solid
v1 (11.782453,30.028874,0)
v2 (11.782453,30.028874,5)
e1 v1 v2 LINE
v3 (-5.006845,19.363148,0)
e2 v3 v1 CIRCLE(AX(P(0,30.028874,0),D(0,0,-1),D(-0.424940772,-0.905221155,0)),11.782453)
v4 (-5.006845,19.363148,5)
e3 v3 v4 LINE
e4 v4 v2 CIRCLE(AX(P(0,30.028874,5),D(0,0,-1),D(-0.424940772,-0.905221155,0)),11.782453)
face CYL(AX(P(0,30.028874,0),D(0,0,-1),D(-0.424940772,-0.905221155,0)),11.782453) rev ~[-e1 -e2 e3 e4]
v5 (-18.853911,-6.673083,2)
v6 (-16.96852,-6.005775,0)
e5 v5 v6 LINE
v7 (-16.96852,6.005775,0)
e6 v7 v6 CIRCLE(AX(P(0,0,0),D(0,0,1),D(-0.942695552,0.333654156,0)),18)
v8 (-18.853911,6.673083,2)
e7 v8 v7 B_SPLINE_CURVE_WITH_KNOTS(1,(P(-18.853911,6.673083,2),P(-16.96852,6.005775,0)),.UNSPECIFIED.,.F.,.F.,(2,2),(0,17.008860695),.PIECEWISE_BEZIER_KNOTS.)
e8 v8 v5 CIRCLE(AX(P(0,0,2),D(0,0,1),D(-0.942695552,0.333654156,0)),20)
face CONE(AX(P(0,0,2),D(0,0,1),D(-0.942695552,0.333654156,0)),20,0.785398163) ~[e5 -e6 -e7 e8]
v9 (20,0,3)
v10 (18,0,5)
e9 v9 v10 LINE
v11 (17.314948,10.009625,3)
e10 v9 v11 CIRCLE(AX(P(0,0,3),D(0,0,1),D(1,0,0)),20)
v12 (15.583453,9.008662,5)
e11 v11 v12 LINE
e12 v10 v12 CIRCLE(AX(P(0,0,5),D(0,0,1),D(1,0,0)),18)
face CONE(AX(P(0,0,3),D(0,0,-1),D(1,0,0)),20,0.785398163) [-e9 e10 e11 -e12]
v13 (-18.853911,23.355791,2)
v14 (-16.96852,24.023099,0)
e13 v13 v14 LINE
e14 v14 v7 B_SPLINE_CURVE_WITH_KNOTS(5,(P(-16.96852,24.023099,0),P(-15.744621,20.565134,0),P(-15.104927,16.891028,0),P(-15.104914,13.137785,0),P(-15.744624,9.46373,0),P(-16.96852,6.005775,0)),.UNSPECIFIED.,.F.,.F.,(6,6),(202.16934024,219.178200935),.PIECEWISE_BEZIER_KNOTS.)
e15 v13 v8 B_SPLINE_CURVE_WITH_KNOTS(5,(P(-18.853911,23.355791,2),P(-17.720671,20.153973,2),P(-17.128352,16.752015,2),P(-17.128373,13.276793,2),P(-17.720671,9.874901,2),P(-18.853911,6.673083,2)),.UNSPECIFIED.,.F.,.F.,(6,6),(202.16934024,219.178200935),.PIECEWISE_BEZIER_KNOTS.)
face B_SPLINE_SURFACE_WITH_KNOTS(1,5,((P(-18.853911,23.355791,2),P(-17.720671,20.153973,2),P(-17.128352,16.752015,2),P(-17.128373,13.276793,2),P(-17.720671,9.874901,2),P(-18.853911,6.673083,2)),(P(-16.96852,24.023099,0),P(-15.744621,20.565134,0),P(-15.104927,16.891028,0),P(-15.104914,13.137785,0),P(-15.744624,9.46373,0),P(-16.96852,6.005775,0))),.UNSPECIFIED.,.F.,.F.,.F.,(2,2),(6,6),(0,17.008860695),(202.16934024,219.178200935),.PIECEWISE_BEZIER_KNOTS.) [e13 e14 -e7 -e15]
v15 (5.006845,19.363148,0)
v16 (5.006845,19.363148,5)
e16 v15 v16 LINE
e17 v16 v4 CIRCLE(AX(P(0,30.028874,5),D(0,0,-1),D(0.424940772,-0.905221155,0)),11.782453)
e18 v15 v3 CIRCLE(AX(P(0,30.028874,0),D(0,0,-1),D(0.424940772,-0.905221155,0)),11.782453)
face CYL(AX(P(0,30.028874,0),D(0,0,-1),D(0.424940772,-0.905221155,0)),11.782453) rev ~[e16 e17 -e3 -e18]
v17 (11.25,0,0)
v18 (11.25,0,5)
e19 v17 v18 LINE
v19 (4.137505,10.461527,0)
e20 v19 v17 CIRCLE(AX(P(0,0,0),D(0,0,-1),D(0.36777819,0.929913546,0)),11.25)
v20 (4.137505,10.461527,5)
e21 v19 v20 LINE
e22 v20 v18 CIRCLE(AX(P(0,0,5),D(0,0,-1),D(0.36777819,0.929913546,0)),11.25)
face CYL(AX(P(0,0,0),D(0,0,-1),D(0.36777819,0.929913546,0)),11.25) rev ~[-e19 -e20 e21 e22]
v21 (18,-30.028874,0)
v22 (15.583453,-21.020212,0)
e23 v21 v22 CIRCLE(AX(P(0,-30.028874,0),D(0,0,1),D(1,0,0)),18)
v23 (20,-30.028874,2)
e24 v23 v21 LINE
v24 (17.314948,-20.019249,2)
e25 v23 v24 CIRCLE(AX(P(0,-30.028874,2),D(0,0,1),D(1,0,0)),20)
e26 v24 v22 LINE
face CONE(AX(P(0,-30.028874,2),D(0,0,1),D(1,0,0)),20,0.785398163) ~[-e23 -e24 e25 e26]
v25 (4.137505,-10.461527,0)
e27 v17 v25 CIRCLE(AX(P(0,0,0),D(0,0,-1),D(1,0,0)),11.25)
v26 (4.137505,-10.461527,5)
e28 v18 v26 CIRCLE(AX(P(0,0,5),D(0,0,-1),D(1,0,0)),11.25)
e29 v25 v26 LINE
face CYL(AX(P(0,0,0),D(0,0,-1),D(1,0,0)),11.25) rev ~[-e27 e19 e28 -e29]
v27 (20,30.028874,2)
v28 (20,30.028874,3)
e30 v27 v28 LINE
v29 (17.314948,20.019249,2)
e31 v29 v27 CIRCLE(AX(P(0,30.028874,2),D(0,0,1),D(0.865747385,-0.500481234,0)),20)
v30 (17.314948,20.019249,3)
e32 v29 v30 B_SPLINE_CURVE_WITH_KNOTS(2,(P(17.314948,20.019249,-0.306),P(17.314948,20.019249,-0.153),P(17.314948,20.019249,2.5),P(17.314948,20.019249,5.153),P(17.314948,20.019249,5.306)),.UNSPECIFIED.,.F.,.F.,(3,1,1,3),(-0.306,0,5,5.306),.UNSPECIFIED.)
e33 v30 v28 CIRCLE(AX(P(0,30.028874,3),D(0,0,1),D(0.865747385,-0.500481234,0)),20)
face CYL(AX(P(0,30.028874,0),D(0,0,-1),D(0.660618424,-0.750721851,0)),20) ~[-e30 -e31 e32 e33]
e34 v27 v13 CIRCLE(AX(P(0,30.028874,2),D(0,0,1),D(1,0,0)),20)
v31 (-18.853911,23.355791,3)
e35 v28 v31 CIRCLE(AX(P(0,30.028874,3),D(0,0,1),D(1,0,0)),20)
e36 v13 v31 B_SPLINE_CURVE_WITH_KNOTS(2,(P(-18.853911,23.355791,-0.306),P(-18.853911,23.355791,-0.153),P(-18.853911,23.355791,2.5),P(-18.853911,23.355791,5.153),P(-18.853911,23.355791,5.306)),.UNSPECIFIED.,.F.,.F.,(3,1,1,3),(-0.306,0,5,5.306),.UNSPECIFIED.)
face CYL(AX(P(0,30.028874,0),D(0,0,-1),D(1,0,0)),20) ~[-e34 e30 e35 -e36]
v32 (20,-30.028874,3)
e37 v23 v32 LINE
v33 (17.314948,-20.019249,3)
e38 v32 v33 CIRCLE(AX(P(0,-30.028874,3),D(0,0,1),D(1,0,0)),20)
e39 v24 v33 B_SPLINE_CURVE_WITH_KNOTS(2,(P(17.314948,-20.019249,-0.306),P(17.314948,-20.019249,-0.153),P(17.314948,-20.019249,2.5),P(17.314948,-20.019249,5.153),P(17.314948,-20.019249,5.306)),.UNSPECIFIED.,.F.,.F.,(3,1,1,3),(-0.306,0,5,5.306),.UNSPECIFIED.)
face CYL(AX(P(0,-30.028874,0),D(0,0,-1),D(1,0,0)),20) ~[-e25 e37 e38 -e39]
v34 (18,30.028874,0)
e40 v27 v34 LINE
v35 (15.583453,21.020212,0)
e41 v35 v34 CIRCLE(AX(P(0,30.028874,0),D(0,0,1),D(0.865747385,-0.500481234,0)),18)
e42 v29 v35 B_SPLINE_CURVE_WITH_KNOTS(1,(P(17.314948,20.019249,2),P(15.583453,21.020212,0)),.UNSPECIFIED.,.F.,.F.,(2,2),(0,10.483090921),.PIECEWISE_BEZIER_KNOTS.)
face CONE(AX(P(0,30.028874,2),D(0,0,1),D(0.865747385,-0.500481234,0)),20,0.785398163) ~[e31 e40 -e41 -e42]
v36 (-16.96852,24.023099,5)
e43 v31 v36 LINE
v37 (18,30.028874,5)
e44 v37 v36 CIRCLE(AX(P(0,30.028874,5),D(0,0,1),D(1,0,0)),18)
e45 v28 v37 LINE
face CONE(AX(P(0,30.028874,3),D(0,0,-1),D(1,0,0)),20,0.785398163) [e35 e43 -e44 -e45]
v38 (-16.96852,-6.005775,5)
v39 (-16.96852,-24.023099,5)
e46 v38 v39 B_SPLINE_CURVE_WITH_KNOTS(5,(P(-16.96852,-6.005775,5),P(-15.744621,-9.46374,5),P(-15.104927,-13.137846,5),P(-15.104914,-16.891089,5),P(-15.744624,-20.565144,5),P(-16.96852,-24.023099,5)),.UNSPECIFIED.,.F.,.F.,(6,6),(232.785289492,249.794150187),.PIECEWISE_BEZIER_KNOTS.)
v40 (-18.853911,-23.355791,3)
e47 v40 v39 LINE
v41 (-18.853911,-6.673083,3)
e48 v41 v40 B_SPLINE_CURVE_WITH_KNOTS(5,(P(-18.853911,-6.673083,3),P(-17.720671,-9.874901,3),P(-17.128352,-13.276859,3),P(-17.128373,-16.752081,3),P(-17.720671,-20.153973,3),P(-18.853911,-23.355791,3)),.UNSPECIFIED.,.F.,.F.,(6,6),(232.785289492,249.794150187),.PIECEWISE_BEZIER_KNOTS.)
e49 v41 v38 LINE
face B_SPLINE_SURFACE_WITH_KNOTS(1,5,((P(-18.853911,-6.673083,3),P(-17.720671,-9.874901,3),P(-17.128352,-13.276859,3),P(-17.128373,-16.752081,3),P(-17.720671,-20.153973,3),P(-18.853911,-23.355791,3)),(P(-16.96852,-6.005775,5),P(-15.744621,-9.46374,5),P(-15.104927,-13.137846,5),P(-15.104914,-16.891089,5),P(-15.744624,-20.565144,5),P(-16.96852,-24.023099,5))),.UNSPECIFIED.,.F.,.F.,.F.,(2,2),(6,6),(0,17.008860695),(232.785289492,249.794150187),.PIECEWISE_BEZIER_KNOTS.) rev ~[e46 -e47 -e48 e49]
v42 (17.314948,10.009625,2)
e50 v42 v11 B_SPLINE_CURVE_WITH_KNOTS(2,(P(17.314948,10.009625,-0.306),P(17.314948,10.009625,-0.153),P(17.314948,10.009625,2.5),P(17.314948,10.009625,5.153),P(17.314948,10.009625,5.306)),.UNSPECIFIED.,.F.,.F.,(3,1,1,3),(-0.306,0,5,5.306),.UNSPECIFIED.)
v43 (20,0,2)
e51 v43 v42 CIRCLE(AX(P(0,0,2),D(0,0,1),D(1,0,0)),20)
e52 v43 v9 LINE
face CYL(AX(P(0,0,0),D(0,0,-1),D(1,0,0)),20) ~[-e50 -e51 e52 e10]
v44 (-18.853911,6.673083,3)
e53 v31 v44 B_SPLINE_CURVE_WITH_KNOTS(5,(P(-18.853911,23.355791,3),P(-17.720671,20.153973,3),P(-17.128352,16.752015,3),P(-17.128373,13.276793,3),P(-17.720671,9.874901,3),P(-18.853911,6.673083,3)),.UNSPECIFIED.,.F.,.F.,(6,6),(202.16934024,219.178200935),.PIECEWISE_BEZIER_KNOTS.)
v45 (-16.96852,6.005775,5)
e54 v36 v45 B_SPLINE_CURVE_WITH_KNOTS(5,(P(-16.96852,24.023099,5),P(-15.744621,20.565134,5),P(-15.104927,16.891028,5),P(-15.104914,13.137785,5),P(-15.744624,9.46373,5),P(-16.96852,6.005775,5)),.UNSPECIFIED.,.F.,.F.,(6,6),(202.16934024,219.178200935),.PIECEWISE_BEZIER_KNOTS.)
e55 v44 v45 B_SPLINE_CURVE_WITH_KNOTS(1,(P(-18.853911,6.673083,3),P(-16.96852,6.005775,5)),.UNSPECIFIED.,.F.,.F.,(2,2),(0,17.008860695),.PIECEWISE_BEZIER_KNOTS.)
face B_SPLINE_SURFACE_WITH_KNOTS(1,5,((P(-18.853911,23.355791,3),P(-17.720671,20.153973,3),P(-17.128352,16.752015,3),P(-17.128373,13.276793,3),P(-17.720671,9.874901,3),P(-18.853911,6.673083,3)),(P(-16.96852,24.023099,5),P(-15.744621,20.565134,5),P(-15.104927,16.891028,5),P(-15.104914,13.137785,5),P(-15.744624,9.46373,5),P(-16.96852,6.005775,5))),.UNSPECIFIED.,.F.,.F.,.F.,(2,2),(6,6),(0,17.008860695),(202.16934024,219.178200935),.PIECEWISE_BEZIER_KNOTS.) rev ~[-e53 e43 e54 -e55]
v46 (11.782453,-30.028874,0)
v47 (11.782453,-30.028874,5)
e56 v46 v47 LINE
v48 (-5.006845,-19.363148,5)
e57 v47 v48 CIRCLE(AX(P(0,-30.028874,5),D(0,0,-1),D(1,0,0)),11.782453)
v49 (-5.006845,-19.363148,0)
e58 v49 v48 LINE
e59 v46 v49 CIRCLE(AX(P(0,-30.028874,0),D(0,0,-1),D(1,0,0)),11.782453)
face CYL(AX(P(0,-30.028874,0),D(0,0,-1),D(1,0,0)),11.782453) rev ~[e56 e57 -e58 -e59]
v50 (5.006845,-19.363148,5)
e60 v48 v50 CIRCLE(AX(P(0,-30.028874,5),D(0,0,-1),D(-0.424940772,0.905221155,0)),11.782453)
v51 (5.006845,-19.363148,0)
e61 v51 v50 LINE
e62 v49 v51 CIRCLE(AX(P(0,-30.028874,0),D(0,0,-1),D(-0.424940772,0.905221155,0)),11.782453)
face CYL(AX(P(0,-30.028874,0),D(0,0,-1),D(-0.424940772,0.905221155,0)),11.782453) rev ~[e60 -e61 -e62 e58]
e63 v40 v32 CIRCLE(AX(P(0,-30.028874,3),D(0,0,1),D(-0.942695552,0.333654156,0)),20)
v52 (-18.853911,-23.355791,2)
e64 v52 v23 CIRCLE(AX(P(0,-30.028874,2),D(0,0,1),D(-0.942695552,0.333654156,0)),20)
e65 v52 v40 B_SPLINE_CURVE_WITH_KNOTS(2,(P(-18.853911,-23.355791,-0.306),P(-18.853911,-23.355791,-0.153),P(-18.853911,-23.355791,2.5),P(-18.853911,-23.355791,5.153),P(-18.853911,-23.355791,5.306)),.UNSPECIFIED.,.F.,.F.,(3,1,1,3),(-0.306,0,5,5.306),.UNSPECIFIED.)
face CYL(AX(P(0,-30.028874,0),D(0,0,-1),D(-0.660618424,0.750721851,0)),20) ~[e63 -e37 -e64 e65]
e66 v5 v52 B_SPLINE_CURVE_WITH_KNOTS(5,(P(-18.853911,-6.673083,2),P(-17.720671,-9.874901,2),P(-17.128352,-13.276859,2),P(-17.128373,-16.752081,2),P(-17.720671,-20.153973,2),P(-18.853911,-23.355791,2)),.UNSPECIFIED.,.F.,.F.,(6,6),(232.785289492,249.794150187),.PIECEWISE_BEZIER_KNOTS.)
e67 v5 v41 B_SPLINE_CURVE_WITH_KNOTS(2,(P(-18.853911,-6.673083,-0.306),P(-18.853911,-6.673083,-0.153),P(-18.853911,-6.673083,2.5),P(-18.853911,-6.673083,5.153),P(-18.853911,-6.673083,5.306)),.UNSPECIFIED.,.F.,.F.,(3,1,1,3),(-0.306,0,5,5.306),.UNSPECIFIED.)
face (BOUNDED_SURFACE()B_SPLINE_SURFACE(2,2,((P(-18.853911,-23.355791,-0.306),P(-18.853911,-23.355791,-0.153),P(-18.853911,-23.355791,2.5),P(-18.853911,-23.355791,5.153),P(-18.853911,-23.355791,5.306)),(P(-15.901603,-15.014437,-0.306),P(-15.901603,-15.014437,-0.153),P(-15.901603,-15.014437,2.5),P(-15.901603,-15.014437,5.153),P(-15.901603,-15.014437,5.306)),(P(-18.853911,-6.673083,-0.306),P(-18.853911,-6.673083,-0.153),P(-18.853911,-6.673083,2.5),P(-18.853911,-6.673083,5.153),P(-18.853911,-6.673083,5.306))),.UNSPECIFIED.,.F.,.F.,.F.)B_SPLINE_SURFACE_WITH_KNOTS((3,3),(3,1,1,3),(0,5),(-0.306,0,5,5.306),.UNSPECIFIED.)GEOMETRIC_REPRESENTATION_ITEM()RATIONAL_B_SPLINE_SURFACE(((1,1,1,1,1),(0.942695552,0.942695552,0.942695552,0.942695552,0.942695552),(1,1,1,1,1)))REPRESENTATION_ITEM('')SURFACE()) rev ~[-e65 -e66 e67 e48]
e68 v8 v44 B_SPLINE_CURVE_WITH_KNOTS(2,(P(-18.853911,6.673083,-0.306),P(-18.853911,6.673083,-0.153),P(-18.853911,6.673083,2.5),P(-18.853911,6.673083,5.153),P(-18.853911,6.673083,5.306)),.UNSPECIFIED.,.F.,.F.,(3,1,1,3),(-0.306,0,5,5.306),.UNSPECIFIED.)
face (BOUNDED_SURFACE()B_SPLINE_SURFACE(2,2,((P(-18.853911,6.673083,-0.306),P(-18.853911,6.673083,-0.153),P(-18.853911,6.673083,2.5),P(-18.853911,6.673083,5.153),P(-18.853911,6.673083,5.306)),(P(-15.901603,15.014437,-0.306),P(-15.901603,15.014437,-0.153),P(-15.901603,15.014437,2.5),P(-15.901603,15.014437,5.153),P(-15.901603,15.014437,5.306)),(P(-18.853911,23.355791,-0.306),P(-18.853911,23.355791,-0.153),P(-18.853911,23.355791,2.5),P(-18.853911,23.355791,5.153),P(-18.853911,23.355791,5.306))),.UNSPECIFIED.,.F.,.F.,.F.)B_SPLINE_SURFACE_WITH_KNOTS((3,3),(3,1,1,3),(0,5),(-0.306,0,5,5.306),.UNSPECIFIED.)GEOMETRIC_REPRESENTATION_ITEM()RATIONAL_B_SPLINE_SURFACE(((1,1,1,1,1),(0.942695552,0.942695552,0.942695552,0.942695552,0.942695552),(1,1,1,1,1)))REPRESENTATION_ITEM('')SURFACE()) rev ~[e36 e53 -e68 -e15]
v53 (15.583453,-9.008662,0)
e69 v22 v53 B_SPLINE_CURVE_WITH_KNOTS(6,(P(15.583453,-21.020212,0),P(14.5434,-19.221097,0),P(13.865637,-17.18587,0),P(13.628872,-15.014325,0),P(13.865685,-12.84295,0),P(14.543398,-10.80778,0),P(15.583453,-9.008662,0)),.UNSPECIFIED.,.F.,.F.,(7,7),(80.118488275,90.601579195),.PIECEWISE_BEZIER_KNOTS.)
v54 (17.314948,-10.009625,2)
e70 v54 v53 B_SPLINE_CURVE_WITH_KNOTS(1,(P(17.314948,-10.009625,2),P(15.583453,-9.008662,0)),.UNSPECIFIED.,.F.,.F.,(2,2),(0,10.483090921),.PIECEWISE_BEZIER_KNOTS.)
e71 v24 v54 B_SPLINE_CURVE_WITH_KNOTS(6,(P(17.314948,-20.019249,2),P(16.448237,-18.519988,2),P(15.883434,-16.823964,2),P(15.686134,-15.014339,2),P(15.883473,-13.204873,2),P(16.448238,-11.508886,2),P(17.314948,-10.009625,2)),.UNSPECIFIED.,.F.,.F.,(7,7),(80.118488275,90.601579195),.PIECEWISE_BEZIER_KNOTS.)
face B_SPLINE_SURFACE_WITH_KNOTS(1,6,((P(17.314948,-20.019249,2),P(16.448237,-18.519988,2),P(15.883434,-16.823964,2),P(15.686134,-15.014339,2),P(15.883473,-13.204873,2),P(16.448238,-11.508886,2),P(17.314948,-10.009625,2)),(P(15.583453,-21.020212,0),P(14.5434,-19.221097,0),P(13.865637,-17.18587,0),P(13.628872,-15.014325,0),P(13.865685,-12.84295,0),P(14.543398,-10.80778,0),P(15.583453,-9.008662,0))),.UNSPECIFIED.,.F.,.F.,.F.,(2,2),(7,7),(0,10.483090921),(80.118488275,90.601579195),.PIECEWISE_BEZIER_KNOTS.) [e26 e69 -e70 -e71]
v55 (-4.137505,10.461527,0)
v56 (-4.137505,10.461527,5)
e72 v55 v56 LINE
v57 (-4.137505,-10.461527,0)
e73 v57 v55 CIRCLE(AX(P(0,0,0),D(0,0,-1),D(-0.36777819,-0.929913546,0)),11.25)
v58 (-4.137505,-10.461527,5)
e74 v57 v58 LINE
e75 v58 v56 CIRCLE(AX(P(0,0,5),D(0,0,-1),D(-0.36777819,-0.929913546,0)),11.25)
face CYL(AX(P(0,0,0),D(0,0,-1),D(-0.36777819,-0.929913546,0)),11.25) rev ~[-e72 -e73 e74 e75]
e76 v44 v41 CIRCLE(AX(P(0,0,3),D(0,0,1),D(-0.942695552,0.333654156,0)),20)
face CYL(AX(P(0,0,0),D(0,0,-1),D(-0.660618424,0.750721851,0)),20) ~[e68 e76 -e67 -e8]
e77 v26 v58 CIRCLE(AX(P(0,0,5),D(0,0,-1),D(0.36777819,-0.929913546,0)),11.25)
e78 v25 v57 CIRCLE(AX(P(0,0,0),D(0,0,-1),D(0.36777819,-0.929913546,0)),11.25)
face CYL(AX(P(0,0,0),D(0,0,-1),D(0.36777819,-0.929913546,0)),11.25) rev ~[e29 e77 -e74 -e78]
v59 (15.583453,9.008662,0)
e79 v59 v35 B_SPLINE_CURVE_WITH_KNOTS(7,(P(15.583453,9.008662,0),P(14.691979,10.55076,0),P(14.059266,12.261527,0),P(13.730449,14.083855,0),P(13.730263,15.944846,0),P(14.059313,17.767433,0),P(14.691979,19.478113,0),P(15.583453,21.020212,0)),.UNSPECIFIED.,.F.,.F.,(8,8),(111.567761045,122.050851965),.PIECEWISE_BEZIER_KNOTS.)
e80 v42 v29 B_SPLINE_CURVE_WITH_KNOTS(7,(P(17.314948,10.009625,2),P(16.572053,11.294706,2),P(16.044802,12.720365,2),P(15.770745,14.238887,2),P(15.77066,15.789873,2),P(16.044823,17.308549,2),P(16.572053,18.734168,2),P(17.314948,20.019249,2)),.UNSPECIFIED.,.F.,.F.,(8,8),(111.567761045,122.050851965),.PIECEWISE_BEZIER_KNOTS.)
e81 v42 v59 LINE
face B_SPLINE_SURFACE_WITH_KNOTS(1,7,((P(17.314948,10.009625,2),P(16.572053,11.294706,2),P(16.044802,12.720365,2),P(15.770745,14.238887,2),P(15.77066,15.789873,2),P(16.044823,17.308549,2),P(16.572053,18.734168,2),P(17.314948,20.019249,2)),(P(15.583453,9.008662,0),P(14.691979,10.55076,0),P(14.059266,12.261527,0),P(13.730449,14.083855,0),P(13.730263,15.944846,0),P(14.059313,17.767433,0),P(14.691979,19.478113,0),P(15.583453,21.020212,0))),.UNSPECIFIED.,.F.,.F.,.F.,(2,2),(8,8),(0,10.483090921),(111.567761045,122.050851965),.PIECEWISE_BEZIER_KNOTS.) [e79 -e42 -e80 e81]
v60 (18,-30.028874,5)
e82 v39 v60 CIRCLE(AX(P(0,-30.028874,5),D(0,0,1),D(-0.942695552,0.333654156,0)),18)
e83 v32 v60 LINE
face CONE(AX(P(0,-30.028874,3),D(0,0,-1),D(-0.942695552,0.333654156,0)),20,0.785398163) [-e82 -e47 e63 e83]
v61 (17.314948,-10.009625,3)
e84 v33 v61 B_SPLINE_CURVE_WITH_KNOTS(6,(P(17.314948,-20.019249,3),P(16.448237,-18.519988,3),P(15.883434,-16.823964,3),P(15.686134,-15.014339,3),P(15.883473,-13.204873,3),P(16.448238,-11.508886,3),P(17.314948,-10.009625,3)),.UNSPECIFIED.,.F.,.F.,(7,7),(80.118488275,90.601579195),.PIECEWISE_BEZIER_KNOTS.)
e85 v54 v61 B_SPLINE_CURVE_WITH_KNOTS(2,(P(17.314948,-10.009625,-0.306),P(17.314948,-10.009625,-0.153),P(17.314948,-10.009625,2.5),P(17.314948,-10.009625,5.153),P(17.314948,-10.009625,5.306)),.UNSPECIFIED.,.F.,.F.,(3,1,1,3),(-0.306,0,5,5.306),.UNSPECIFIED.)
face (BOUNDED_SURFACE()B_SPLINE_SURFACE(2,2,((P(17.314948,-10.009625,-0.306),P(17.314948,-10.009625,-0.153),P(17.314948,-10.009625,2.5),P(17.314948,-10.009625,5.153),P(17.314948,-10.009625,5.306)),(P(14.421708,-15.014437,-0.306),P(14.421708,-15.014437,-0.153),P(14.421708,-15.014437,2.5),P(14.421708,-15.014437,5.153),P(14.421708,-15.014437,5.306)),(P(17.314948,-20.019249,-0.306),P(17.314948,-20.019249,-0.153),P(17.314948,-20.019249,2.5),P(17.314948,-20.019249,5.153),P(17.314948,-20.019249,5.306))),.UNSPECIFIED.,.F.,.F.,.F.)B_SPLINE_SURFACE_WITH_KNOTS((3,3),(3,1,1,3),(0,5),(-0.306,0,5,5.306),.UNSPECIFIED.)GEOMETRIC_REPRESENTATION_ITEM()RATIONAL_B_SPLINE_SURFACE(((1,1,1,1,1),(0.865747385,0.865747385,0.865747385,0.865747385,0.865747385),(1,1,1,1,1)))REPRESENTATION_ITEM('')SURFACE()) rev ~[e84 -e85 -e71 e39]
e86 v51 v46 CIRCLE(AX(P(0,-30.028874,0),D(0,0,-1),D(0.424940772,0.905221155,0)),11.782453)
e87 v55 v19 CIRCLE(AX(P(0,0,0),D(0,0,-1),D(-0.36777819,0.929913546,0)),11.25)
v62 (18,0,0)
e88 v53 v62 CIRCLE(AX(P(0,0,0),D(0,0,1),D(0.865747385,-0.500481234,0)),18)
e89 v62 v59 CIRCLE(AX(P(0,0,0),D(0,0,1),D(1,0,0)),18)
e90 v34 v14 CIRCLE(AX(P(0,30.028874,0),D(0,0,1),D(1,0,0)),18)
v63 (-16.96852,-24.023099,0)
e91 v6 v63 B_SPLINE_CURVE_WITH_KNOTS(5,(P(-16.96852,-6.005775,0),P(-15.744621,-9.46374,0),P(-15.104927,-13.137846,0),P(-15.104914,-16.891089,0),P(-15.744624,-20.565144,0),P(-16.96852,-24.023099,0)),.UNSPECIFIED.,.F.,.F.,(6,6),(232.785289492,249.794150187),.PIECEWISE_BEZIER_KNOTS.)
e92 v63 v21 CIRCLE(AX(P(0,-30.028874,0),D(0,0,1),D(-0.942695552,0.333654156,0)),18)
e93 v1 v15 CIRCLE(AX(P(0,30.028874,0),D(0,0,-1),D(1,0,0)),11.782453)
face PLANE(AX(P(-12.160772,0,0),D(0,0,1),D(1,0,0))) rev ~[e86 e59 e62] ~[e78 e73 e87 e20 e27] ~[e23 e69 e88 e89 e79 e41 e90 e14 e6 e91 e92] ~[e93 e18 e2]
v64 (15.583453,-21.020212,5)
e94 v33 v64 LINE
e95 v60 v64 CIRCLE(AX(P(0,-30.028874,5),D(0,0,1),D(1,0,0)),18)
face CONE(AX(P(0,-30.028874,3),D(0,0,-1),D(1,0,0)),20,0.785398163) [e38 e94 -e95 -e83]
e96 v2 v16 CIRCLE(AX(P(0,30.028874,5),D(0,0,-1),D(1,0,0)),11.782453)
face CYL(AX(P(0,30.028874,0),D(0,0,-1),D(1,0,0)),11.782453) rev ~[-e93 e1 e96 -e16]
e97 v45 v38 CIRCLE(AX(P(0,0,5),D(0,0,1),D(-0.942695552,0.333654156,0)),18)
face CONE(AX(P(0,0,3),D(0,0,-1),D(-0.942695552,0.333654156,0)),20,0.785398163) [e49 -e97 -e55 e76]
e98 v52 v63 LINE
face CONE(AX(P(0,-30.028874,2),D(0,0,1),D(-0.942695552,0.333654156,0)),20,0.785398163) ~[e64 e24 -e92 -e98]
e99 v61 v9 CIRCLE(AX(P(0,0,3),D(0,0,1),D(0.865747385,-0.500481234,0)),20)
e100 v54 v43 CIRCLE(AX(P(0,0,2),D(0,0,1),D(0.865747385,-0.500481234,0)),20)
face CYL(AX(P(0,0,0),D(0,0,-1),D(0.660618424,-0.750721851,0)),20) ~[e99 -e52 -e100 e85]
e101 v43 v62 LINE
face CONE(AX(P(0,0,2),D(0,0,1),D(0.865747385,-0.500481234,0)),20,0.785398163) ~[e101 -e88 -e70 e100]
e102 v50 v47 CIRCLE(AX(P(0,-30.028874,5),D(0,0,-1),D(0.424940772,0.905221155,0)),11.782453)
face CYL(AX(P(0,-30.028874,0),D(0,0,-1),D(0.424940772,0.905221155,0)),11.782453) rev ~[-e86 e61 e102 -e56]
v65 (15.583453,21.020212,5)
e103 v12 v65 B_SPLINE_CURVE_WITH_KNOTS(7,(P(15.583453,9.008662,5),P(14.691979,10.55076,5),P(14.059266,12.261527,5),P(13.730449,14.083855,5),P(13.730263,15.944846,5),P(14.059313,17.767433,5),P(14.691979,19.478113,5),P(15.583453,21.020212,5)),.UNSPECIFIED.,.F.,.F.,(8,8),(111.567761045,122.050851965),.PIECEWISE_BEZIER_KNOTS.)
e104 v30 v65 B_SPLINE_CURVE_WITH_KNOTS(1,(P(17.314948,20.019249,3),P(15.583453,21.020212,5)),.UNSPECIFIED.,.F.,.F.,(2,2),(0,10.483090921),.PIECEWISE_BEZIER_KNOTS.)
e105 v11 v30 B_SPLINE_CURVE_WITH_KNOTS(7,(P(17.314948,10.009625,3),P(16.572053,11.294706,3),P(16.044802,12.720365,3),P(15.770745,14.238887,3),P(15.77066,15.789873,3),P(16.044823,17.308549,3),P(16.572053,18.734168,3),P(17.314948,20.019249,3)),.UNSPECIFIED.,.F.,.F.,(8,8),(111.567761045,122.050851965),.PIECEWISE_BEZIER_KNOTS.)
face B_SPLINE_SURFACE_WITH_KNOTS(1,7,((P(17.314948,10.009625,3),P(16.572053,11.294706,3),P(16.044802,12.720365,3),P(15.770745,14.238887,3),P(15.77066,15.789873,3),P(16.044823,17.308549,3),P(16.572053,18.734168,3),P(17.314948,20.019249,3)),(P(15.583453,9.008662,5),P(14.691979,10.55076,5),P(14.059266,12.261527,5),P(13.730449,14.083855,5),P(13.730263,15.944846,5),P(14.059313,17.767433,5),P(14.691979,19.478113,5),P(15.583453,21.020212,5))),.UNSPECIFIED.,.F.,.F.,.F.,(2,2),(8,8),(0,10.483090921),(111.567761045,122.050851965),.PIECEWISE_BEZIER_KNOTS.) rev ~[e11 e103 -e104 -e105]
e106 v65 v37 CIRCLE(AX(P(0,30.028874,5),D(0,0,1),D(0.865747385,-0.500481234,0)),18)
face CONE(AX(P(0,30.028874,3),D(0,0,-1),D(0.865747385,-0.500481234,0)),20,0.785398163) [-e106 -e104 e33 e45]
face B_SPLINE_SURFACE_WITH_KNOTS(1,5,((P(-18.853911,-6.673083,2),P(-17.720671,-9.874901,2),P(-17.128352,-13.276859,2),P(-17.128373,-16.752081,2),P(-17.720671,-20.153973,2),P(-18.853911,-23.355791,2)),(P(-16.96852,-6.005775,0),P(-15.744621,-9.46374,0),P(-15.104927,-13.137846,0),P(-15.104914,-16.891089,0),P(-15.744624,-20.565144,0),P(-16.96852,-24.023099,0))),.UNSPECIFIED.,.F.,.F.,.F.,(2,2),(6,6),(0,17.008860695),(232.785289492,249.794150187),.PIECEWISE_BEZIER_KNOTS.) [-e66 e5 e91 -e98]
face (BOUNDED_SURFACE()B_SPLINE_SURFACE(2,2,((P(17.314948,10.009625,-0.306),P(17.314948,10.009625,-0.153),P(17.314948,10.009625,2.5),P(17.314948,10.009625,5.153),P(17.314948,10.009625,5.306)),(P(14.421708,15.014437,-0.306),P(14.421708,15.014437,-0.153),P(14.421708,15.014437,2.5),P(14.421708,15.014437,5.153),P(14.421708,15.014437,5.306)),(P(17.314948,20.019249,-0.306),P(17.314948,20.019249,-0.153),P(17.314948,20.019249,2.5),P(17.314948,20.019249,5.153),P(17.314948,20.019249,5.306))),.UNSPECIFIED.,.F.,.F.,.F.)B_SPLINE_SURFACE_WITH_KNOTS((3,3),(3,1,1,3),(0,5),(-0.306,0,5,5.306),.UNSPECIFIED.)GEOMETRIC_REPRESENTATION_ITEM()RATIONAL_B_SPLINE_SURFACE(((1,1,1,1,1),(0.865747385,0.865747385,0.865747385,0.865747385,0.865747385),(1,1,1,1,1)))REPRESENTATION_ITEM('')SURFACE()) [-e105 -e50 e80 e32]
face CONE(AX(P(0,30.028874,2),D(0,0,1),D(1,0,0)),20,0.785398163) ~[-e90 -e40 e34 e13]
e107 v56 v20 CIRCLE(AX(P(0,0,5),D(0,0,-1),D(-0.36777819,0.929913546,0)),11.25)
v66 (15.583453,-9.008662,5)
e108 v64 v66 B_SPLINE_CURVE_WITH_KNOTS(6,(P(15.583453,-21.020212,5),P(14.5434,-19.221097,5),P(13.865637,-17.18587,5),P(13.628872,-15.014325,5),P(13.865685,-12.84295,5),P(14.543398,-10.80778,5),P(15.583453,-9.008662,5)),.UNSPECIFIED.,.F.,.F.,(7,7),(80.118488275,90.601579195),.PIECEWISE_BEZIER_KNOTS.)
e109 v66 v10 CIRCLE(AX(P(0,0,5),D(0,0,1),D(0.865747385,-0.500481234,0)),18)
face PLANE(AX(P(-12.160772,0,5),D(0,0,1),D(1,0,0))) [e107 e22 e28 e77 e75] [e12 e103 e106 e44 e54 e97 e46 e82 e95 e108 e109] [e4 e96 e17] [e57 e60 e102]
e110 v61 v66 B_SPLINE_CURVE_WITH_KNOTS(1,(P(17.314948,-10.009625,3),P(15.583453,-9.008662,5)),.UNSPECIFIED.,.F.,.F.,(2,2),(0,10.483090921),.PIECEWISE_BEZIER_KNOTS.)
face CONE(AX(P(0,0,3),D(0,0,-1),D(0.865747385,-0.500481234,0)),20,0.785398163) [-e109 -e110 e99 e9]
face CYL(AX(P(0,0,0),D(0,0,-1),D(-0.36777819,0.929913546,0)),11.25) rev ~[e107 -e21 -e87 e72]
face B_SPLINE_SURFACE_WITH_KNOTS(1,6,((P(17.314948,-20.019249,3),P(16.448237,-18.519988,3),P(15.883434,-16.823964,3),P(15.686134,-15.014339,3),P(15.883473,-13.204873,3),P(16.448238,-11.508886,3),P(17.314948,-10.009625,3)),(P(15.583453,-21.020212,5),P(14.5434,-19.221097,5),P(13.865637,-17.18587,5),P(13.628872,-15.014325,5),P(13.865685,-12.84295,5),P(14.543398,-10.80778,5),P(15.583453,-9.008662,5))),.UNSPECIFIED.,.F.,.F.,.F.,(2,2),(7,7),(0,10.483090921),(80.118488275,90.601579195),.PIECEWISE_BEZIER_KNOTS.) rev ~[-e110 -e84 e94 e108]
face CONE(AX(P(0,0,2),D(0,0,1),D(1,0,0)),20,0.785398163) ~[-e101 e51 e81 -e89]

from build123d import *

# Parameters (mm, degrees)
F1_DEPTH = 5
F2_R     = 10
F3_R     = 25
F4_SIZE  = 2
F5_SIZE  = 2


with BuildPart() as f1:
    # F0 (on Top) → F1 (new body)
    with BuildSketch(Plane.XY):
        with BuildLine():
            ThreePointArc((-4.137504636, -10.4615273926), (-11.25, 0), (-4.137504636, 10.4615273926))
            ThreePointArc((-4.137504636, 10.4615273926), (-8.9686549041, 12.1525425178), (-13.2123684763, 15.0144370273))
            ThreePointArc((-13.2123684763, 15.0144370273), (-20, 0), (-13.2123684763, -15.0144370273))
            ThreePointArc((-13.2123684763, -15.0144370273), (-8.9686549041, -12.1525425178), (-4.137504636, -10.4615273926))
        make_face()
        with BuildLine():
            ThreePointArc((4.137504636, 10.4615273926), (9.303478574, 6.3251708611), (11.25, 0))
            ThreePointArc((11.25, 0), (9.303478574, -6.3251708611), (4.137504636, -10.4615273926))
            ThreePointArc((4.137504636, -10.4615273926), (8.9686549041, -12.1525425178), (13.2123684763, -15.0144370273))
            ThreePointArc((13.2123684763, -15.0144370273), (18.2242608839, -8.2387083476), (20, 0))
            ThreePointArc((20, 0), (18.2242608839, 8.2387083476), (13.2123684763, 15.0144370273))
            ThreePointArc((13.2123684763, 15.0144370273), (8.9686549041, 12.1525425178), (4.137504636, 10.4615273926))
        make_face()
        with BuildLine():
            ThreePointArc((-4.137504636, 10.4615273926), (0, 11.25), (4.137504636, 10.4615273926))
            ThreePointArc((4.137504636, 10.4615273926), (8.9686549041, 12.1525425178), (13.2123684763, 15.0144370273))
            ThreePointArc((13.2123684763, 15.0144370273), (9.3655087913, 17.6716508872), (5.0068447736, 19.3631481277))
            ThreePointArc((5.0068447736, 19.3631481277), (0, 18.2464208238), (-5.0068447736, 19.3631481277))
            ThreePointArc((-5.0068447736, 19.3631481277), (-9.3655087913, 17.6716508872), (-13.2123684763, 15.0144370273))
            ThreePointArc((-13.2123684763, 15.0144370273), (-8.9686549041, 12.1525425178), (-4.137504636, 10.4615273926))
        make_face()
        with BuildLine():
            ThreePointArc((13.2123684763, -15.0144370273), (8.9686549041, -12.1525425178), (4.137504636, -10.4615273926))
            ThreePointArc((4.137504636, -10.4615273926), (0, -11.25), (-4.137504636, -10.4615273926))
            ThreePointArc((-4.137504636, -10.4615273926), (-8.9686549041, -12.1525425178), (-13.2123684763, -15.0144370273))
            ThreePointArc((-13.2123684763, -15.0144370273), (-9.3655087913, -17.6716508872), (-5.0068447736, -19.3631481277))
            ThreePointArc((-5.0068447736, -19.3631481277), (0, -18.2464208238), (5.0068447736, -19.3631481277))
            ThreePointArc((5.0068447736, -19.3631481277), (9.3655087913, -17.6716508872), (13.2123684763, -15.0144370273))
        make_face()
        with BuildLine():
            ThreePointArc((5.0068447736, 19.3631481277), (9.3655087913, 17.6716508872), (13.2123684763, 15.0144370273))
            ThreePointArc((13.2123684763, 15.0144370273), (18.2242608839, 21.790165707), (20, 30.0288740546))
            ThreePointArc((20, 30.0288740546), (-8.2387083476, 48.2531349384), (-13.2123684763, 15.0144370273))
            ThreePointArc((-13.2123684763, 15.0144370273), (-9.3655087913, 17.6716508872), (-5.0068447736, 19.3631481277))
            ThreePointArc((-5.0068447736, 19.3631481277), (-6.3179620827, 39.9742025688), (11.7824532307, 30.0288740546))
            ThreePointArc((11.7824532307, 30.0288740546), (9.9453285142, 23.7109119719), (5.0068447736, 19.3631481277))
        make_face()
        with BuildLine():
            ThreePointArc((20, -30.0288740546), (18.2242608839, -21.790165707), (13.2123684763, -15.0144370273))
            ThreePointArc((13.2123684763, -15.0144370273), (9.3655087913, -17.6716508872), (5.0068447736, -19.3631481277))
            ThreePointArc((5.0068447736, -19.3631481277), (9.9453285142, -23.7109119719), (11.7824532307, -30.0288740546))
            ThreePointArc((11.7824532307, -30.0288740546), (-6.3179620827, -39.9742025688), (-5.0068447736, -19.3631481277))
            ThreePointArc((-5.0068447736, -19.3631481277), (-9.3655087913, -17.6716508872), (-13.2123684763, -15.0144370273))
            ThreePointArc((-13.2123684763, -15.0144370273), (-8.2387083476, -48.2531349384), (20, -30.0288740546))
        make_face()
    extrude(amount=F1_DEPTH)

    # F2
    f2_edges = [f1.edges().sort_by_distance(p)[0] for p in [
        (13.212368, -15.014437, 2.5),
        (13.212368, 15.014437, 2.5),
    ]]
    fillet(f2_edges, radius=F2_R)

    # F3
    f3_edges = [f1.edges().sort_by_distance(p)[0] for p in [
        (-13.212368, -15.014437, 2.5),
        (-13.212368, 15.014437, 2.5),
    ]]
    fillet(f3_edges, radius=F3_R)

    # F4
    f4_edges = [f1.edges().sort_by_distance(p)[0] for p in [
        (1.83718, -49.944315, 5),
        (-17.4213, -15.014437, 5),
        (-20, 0, 5),
        (-17.4213, 15.014437, 5),
        (1.83718, 49.944315, 5),
        (15.972422, -15.014437, 5),
        (20, 0, 5),
        (15.972422, 15.014437, 5),
    ]]
    chamfer(f4_edges, length=F4_SIZE)

    # F5
    f5_edges = [f1.edges().sort_by_distance(p)[0] for p in [
        (1.83718, -49.944315, 0),
    ]]
    chamfer(f5_edges, length=F5_SIZE)


solid = f1.part
